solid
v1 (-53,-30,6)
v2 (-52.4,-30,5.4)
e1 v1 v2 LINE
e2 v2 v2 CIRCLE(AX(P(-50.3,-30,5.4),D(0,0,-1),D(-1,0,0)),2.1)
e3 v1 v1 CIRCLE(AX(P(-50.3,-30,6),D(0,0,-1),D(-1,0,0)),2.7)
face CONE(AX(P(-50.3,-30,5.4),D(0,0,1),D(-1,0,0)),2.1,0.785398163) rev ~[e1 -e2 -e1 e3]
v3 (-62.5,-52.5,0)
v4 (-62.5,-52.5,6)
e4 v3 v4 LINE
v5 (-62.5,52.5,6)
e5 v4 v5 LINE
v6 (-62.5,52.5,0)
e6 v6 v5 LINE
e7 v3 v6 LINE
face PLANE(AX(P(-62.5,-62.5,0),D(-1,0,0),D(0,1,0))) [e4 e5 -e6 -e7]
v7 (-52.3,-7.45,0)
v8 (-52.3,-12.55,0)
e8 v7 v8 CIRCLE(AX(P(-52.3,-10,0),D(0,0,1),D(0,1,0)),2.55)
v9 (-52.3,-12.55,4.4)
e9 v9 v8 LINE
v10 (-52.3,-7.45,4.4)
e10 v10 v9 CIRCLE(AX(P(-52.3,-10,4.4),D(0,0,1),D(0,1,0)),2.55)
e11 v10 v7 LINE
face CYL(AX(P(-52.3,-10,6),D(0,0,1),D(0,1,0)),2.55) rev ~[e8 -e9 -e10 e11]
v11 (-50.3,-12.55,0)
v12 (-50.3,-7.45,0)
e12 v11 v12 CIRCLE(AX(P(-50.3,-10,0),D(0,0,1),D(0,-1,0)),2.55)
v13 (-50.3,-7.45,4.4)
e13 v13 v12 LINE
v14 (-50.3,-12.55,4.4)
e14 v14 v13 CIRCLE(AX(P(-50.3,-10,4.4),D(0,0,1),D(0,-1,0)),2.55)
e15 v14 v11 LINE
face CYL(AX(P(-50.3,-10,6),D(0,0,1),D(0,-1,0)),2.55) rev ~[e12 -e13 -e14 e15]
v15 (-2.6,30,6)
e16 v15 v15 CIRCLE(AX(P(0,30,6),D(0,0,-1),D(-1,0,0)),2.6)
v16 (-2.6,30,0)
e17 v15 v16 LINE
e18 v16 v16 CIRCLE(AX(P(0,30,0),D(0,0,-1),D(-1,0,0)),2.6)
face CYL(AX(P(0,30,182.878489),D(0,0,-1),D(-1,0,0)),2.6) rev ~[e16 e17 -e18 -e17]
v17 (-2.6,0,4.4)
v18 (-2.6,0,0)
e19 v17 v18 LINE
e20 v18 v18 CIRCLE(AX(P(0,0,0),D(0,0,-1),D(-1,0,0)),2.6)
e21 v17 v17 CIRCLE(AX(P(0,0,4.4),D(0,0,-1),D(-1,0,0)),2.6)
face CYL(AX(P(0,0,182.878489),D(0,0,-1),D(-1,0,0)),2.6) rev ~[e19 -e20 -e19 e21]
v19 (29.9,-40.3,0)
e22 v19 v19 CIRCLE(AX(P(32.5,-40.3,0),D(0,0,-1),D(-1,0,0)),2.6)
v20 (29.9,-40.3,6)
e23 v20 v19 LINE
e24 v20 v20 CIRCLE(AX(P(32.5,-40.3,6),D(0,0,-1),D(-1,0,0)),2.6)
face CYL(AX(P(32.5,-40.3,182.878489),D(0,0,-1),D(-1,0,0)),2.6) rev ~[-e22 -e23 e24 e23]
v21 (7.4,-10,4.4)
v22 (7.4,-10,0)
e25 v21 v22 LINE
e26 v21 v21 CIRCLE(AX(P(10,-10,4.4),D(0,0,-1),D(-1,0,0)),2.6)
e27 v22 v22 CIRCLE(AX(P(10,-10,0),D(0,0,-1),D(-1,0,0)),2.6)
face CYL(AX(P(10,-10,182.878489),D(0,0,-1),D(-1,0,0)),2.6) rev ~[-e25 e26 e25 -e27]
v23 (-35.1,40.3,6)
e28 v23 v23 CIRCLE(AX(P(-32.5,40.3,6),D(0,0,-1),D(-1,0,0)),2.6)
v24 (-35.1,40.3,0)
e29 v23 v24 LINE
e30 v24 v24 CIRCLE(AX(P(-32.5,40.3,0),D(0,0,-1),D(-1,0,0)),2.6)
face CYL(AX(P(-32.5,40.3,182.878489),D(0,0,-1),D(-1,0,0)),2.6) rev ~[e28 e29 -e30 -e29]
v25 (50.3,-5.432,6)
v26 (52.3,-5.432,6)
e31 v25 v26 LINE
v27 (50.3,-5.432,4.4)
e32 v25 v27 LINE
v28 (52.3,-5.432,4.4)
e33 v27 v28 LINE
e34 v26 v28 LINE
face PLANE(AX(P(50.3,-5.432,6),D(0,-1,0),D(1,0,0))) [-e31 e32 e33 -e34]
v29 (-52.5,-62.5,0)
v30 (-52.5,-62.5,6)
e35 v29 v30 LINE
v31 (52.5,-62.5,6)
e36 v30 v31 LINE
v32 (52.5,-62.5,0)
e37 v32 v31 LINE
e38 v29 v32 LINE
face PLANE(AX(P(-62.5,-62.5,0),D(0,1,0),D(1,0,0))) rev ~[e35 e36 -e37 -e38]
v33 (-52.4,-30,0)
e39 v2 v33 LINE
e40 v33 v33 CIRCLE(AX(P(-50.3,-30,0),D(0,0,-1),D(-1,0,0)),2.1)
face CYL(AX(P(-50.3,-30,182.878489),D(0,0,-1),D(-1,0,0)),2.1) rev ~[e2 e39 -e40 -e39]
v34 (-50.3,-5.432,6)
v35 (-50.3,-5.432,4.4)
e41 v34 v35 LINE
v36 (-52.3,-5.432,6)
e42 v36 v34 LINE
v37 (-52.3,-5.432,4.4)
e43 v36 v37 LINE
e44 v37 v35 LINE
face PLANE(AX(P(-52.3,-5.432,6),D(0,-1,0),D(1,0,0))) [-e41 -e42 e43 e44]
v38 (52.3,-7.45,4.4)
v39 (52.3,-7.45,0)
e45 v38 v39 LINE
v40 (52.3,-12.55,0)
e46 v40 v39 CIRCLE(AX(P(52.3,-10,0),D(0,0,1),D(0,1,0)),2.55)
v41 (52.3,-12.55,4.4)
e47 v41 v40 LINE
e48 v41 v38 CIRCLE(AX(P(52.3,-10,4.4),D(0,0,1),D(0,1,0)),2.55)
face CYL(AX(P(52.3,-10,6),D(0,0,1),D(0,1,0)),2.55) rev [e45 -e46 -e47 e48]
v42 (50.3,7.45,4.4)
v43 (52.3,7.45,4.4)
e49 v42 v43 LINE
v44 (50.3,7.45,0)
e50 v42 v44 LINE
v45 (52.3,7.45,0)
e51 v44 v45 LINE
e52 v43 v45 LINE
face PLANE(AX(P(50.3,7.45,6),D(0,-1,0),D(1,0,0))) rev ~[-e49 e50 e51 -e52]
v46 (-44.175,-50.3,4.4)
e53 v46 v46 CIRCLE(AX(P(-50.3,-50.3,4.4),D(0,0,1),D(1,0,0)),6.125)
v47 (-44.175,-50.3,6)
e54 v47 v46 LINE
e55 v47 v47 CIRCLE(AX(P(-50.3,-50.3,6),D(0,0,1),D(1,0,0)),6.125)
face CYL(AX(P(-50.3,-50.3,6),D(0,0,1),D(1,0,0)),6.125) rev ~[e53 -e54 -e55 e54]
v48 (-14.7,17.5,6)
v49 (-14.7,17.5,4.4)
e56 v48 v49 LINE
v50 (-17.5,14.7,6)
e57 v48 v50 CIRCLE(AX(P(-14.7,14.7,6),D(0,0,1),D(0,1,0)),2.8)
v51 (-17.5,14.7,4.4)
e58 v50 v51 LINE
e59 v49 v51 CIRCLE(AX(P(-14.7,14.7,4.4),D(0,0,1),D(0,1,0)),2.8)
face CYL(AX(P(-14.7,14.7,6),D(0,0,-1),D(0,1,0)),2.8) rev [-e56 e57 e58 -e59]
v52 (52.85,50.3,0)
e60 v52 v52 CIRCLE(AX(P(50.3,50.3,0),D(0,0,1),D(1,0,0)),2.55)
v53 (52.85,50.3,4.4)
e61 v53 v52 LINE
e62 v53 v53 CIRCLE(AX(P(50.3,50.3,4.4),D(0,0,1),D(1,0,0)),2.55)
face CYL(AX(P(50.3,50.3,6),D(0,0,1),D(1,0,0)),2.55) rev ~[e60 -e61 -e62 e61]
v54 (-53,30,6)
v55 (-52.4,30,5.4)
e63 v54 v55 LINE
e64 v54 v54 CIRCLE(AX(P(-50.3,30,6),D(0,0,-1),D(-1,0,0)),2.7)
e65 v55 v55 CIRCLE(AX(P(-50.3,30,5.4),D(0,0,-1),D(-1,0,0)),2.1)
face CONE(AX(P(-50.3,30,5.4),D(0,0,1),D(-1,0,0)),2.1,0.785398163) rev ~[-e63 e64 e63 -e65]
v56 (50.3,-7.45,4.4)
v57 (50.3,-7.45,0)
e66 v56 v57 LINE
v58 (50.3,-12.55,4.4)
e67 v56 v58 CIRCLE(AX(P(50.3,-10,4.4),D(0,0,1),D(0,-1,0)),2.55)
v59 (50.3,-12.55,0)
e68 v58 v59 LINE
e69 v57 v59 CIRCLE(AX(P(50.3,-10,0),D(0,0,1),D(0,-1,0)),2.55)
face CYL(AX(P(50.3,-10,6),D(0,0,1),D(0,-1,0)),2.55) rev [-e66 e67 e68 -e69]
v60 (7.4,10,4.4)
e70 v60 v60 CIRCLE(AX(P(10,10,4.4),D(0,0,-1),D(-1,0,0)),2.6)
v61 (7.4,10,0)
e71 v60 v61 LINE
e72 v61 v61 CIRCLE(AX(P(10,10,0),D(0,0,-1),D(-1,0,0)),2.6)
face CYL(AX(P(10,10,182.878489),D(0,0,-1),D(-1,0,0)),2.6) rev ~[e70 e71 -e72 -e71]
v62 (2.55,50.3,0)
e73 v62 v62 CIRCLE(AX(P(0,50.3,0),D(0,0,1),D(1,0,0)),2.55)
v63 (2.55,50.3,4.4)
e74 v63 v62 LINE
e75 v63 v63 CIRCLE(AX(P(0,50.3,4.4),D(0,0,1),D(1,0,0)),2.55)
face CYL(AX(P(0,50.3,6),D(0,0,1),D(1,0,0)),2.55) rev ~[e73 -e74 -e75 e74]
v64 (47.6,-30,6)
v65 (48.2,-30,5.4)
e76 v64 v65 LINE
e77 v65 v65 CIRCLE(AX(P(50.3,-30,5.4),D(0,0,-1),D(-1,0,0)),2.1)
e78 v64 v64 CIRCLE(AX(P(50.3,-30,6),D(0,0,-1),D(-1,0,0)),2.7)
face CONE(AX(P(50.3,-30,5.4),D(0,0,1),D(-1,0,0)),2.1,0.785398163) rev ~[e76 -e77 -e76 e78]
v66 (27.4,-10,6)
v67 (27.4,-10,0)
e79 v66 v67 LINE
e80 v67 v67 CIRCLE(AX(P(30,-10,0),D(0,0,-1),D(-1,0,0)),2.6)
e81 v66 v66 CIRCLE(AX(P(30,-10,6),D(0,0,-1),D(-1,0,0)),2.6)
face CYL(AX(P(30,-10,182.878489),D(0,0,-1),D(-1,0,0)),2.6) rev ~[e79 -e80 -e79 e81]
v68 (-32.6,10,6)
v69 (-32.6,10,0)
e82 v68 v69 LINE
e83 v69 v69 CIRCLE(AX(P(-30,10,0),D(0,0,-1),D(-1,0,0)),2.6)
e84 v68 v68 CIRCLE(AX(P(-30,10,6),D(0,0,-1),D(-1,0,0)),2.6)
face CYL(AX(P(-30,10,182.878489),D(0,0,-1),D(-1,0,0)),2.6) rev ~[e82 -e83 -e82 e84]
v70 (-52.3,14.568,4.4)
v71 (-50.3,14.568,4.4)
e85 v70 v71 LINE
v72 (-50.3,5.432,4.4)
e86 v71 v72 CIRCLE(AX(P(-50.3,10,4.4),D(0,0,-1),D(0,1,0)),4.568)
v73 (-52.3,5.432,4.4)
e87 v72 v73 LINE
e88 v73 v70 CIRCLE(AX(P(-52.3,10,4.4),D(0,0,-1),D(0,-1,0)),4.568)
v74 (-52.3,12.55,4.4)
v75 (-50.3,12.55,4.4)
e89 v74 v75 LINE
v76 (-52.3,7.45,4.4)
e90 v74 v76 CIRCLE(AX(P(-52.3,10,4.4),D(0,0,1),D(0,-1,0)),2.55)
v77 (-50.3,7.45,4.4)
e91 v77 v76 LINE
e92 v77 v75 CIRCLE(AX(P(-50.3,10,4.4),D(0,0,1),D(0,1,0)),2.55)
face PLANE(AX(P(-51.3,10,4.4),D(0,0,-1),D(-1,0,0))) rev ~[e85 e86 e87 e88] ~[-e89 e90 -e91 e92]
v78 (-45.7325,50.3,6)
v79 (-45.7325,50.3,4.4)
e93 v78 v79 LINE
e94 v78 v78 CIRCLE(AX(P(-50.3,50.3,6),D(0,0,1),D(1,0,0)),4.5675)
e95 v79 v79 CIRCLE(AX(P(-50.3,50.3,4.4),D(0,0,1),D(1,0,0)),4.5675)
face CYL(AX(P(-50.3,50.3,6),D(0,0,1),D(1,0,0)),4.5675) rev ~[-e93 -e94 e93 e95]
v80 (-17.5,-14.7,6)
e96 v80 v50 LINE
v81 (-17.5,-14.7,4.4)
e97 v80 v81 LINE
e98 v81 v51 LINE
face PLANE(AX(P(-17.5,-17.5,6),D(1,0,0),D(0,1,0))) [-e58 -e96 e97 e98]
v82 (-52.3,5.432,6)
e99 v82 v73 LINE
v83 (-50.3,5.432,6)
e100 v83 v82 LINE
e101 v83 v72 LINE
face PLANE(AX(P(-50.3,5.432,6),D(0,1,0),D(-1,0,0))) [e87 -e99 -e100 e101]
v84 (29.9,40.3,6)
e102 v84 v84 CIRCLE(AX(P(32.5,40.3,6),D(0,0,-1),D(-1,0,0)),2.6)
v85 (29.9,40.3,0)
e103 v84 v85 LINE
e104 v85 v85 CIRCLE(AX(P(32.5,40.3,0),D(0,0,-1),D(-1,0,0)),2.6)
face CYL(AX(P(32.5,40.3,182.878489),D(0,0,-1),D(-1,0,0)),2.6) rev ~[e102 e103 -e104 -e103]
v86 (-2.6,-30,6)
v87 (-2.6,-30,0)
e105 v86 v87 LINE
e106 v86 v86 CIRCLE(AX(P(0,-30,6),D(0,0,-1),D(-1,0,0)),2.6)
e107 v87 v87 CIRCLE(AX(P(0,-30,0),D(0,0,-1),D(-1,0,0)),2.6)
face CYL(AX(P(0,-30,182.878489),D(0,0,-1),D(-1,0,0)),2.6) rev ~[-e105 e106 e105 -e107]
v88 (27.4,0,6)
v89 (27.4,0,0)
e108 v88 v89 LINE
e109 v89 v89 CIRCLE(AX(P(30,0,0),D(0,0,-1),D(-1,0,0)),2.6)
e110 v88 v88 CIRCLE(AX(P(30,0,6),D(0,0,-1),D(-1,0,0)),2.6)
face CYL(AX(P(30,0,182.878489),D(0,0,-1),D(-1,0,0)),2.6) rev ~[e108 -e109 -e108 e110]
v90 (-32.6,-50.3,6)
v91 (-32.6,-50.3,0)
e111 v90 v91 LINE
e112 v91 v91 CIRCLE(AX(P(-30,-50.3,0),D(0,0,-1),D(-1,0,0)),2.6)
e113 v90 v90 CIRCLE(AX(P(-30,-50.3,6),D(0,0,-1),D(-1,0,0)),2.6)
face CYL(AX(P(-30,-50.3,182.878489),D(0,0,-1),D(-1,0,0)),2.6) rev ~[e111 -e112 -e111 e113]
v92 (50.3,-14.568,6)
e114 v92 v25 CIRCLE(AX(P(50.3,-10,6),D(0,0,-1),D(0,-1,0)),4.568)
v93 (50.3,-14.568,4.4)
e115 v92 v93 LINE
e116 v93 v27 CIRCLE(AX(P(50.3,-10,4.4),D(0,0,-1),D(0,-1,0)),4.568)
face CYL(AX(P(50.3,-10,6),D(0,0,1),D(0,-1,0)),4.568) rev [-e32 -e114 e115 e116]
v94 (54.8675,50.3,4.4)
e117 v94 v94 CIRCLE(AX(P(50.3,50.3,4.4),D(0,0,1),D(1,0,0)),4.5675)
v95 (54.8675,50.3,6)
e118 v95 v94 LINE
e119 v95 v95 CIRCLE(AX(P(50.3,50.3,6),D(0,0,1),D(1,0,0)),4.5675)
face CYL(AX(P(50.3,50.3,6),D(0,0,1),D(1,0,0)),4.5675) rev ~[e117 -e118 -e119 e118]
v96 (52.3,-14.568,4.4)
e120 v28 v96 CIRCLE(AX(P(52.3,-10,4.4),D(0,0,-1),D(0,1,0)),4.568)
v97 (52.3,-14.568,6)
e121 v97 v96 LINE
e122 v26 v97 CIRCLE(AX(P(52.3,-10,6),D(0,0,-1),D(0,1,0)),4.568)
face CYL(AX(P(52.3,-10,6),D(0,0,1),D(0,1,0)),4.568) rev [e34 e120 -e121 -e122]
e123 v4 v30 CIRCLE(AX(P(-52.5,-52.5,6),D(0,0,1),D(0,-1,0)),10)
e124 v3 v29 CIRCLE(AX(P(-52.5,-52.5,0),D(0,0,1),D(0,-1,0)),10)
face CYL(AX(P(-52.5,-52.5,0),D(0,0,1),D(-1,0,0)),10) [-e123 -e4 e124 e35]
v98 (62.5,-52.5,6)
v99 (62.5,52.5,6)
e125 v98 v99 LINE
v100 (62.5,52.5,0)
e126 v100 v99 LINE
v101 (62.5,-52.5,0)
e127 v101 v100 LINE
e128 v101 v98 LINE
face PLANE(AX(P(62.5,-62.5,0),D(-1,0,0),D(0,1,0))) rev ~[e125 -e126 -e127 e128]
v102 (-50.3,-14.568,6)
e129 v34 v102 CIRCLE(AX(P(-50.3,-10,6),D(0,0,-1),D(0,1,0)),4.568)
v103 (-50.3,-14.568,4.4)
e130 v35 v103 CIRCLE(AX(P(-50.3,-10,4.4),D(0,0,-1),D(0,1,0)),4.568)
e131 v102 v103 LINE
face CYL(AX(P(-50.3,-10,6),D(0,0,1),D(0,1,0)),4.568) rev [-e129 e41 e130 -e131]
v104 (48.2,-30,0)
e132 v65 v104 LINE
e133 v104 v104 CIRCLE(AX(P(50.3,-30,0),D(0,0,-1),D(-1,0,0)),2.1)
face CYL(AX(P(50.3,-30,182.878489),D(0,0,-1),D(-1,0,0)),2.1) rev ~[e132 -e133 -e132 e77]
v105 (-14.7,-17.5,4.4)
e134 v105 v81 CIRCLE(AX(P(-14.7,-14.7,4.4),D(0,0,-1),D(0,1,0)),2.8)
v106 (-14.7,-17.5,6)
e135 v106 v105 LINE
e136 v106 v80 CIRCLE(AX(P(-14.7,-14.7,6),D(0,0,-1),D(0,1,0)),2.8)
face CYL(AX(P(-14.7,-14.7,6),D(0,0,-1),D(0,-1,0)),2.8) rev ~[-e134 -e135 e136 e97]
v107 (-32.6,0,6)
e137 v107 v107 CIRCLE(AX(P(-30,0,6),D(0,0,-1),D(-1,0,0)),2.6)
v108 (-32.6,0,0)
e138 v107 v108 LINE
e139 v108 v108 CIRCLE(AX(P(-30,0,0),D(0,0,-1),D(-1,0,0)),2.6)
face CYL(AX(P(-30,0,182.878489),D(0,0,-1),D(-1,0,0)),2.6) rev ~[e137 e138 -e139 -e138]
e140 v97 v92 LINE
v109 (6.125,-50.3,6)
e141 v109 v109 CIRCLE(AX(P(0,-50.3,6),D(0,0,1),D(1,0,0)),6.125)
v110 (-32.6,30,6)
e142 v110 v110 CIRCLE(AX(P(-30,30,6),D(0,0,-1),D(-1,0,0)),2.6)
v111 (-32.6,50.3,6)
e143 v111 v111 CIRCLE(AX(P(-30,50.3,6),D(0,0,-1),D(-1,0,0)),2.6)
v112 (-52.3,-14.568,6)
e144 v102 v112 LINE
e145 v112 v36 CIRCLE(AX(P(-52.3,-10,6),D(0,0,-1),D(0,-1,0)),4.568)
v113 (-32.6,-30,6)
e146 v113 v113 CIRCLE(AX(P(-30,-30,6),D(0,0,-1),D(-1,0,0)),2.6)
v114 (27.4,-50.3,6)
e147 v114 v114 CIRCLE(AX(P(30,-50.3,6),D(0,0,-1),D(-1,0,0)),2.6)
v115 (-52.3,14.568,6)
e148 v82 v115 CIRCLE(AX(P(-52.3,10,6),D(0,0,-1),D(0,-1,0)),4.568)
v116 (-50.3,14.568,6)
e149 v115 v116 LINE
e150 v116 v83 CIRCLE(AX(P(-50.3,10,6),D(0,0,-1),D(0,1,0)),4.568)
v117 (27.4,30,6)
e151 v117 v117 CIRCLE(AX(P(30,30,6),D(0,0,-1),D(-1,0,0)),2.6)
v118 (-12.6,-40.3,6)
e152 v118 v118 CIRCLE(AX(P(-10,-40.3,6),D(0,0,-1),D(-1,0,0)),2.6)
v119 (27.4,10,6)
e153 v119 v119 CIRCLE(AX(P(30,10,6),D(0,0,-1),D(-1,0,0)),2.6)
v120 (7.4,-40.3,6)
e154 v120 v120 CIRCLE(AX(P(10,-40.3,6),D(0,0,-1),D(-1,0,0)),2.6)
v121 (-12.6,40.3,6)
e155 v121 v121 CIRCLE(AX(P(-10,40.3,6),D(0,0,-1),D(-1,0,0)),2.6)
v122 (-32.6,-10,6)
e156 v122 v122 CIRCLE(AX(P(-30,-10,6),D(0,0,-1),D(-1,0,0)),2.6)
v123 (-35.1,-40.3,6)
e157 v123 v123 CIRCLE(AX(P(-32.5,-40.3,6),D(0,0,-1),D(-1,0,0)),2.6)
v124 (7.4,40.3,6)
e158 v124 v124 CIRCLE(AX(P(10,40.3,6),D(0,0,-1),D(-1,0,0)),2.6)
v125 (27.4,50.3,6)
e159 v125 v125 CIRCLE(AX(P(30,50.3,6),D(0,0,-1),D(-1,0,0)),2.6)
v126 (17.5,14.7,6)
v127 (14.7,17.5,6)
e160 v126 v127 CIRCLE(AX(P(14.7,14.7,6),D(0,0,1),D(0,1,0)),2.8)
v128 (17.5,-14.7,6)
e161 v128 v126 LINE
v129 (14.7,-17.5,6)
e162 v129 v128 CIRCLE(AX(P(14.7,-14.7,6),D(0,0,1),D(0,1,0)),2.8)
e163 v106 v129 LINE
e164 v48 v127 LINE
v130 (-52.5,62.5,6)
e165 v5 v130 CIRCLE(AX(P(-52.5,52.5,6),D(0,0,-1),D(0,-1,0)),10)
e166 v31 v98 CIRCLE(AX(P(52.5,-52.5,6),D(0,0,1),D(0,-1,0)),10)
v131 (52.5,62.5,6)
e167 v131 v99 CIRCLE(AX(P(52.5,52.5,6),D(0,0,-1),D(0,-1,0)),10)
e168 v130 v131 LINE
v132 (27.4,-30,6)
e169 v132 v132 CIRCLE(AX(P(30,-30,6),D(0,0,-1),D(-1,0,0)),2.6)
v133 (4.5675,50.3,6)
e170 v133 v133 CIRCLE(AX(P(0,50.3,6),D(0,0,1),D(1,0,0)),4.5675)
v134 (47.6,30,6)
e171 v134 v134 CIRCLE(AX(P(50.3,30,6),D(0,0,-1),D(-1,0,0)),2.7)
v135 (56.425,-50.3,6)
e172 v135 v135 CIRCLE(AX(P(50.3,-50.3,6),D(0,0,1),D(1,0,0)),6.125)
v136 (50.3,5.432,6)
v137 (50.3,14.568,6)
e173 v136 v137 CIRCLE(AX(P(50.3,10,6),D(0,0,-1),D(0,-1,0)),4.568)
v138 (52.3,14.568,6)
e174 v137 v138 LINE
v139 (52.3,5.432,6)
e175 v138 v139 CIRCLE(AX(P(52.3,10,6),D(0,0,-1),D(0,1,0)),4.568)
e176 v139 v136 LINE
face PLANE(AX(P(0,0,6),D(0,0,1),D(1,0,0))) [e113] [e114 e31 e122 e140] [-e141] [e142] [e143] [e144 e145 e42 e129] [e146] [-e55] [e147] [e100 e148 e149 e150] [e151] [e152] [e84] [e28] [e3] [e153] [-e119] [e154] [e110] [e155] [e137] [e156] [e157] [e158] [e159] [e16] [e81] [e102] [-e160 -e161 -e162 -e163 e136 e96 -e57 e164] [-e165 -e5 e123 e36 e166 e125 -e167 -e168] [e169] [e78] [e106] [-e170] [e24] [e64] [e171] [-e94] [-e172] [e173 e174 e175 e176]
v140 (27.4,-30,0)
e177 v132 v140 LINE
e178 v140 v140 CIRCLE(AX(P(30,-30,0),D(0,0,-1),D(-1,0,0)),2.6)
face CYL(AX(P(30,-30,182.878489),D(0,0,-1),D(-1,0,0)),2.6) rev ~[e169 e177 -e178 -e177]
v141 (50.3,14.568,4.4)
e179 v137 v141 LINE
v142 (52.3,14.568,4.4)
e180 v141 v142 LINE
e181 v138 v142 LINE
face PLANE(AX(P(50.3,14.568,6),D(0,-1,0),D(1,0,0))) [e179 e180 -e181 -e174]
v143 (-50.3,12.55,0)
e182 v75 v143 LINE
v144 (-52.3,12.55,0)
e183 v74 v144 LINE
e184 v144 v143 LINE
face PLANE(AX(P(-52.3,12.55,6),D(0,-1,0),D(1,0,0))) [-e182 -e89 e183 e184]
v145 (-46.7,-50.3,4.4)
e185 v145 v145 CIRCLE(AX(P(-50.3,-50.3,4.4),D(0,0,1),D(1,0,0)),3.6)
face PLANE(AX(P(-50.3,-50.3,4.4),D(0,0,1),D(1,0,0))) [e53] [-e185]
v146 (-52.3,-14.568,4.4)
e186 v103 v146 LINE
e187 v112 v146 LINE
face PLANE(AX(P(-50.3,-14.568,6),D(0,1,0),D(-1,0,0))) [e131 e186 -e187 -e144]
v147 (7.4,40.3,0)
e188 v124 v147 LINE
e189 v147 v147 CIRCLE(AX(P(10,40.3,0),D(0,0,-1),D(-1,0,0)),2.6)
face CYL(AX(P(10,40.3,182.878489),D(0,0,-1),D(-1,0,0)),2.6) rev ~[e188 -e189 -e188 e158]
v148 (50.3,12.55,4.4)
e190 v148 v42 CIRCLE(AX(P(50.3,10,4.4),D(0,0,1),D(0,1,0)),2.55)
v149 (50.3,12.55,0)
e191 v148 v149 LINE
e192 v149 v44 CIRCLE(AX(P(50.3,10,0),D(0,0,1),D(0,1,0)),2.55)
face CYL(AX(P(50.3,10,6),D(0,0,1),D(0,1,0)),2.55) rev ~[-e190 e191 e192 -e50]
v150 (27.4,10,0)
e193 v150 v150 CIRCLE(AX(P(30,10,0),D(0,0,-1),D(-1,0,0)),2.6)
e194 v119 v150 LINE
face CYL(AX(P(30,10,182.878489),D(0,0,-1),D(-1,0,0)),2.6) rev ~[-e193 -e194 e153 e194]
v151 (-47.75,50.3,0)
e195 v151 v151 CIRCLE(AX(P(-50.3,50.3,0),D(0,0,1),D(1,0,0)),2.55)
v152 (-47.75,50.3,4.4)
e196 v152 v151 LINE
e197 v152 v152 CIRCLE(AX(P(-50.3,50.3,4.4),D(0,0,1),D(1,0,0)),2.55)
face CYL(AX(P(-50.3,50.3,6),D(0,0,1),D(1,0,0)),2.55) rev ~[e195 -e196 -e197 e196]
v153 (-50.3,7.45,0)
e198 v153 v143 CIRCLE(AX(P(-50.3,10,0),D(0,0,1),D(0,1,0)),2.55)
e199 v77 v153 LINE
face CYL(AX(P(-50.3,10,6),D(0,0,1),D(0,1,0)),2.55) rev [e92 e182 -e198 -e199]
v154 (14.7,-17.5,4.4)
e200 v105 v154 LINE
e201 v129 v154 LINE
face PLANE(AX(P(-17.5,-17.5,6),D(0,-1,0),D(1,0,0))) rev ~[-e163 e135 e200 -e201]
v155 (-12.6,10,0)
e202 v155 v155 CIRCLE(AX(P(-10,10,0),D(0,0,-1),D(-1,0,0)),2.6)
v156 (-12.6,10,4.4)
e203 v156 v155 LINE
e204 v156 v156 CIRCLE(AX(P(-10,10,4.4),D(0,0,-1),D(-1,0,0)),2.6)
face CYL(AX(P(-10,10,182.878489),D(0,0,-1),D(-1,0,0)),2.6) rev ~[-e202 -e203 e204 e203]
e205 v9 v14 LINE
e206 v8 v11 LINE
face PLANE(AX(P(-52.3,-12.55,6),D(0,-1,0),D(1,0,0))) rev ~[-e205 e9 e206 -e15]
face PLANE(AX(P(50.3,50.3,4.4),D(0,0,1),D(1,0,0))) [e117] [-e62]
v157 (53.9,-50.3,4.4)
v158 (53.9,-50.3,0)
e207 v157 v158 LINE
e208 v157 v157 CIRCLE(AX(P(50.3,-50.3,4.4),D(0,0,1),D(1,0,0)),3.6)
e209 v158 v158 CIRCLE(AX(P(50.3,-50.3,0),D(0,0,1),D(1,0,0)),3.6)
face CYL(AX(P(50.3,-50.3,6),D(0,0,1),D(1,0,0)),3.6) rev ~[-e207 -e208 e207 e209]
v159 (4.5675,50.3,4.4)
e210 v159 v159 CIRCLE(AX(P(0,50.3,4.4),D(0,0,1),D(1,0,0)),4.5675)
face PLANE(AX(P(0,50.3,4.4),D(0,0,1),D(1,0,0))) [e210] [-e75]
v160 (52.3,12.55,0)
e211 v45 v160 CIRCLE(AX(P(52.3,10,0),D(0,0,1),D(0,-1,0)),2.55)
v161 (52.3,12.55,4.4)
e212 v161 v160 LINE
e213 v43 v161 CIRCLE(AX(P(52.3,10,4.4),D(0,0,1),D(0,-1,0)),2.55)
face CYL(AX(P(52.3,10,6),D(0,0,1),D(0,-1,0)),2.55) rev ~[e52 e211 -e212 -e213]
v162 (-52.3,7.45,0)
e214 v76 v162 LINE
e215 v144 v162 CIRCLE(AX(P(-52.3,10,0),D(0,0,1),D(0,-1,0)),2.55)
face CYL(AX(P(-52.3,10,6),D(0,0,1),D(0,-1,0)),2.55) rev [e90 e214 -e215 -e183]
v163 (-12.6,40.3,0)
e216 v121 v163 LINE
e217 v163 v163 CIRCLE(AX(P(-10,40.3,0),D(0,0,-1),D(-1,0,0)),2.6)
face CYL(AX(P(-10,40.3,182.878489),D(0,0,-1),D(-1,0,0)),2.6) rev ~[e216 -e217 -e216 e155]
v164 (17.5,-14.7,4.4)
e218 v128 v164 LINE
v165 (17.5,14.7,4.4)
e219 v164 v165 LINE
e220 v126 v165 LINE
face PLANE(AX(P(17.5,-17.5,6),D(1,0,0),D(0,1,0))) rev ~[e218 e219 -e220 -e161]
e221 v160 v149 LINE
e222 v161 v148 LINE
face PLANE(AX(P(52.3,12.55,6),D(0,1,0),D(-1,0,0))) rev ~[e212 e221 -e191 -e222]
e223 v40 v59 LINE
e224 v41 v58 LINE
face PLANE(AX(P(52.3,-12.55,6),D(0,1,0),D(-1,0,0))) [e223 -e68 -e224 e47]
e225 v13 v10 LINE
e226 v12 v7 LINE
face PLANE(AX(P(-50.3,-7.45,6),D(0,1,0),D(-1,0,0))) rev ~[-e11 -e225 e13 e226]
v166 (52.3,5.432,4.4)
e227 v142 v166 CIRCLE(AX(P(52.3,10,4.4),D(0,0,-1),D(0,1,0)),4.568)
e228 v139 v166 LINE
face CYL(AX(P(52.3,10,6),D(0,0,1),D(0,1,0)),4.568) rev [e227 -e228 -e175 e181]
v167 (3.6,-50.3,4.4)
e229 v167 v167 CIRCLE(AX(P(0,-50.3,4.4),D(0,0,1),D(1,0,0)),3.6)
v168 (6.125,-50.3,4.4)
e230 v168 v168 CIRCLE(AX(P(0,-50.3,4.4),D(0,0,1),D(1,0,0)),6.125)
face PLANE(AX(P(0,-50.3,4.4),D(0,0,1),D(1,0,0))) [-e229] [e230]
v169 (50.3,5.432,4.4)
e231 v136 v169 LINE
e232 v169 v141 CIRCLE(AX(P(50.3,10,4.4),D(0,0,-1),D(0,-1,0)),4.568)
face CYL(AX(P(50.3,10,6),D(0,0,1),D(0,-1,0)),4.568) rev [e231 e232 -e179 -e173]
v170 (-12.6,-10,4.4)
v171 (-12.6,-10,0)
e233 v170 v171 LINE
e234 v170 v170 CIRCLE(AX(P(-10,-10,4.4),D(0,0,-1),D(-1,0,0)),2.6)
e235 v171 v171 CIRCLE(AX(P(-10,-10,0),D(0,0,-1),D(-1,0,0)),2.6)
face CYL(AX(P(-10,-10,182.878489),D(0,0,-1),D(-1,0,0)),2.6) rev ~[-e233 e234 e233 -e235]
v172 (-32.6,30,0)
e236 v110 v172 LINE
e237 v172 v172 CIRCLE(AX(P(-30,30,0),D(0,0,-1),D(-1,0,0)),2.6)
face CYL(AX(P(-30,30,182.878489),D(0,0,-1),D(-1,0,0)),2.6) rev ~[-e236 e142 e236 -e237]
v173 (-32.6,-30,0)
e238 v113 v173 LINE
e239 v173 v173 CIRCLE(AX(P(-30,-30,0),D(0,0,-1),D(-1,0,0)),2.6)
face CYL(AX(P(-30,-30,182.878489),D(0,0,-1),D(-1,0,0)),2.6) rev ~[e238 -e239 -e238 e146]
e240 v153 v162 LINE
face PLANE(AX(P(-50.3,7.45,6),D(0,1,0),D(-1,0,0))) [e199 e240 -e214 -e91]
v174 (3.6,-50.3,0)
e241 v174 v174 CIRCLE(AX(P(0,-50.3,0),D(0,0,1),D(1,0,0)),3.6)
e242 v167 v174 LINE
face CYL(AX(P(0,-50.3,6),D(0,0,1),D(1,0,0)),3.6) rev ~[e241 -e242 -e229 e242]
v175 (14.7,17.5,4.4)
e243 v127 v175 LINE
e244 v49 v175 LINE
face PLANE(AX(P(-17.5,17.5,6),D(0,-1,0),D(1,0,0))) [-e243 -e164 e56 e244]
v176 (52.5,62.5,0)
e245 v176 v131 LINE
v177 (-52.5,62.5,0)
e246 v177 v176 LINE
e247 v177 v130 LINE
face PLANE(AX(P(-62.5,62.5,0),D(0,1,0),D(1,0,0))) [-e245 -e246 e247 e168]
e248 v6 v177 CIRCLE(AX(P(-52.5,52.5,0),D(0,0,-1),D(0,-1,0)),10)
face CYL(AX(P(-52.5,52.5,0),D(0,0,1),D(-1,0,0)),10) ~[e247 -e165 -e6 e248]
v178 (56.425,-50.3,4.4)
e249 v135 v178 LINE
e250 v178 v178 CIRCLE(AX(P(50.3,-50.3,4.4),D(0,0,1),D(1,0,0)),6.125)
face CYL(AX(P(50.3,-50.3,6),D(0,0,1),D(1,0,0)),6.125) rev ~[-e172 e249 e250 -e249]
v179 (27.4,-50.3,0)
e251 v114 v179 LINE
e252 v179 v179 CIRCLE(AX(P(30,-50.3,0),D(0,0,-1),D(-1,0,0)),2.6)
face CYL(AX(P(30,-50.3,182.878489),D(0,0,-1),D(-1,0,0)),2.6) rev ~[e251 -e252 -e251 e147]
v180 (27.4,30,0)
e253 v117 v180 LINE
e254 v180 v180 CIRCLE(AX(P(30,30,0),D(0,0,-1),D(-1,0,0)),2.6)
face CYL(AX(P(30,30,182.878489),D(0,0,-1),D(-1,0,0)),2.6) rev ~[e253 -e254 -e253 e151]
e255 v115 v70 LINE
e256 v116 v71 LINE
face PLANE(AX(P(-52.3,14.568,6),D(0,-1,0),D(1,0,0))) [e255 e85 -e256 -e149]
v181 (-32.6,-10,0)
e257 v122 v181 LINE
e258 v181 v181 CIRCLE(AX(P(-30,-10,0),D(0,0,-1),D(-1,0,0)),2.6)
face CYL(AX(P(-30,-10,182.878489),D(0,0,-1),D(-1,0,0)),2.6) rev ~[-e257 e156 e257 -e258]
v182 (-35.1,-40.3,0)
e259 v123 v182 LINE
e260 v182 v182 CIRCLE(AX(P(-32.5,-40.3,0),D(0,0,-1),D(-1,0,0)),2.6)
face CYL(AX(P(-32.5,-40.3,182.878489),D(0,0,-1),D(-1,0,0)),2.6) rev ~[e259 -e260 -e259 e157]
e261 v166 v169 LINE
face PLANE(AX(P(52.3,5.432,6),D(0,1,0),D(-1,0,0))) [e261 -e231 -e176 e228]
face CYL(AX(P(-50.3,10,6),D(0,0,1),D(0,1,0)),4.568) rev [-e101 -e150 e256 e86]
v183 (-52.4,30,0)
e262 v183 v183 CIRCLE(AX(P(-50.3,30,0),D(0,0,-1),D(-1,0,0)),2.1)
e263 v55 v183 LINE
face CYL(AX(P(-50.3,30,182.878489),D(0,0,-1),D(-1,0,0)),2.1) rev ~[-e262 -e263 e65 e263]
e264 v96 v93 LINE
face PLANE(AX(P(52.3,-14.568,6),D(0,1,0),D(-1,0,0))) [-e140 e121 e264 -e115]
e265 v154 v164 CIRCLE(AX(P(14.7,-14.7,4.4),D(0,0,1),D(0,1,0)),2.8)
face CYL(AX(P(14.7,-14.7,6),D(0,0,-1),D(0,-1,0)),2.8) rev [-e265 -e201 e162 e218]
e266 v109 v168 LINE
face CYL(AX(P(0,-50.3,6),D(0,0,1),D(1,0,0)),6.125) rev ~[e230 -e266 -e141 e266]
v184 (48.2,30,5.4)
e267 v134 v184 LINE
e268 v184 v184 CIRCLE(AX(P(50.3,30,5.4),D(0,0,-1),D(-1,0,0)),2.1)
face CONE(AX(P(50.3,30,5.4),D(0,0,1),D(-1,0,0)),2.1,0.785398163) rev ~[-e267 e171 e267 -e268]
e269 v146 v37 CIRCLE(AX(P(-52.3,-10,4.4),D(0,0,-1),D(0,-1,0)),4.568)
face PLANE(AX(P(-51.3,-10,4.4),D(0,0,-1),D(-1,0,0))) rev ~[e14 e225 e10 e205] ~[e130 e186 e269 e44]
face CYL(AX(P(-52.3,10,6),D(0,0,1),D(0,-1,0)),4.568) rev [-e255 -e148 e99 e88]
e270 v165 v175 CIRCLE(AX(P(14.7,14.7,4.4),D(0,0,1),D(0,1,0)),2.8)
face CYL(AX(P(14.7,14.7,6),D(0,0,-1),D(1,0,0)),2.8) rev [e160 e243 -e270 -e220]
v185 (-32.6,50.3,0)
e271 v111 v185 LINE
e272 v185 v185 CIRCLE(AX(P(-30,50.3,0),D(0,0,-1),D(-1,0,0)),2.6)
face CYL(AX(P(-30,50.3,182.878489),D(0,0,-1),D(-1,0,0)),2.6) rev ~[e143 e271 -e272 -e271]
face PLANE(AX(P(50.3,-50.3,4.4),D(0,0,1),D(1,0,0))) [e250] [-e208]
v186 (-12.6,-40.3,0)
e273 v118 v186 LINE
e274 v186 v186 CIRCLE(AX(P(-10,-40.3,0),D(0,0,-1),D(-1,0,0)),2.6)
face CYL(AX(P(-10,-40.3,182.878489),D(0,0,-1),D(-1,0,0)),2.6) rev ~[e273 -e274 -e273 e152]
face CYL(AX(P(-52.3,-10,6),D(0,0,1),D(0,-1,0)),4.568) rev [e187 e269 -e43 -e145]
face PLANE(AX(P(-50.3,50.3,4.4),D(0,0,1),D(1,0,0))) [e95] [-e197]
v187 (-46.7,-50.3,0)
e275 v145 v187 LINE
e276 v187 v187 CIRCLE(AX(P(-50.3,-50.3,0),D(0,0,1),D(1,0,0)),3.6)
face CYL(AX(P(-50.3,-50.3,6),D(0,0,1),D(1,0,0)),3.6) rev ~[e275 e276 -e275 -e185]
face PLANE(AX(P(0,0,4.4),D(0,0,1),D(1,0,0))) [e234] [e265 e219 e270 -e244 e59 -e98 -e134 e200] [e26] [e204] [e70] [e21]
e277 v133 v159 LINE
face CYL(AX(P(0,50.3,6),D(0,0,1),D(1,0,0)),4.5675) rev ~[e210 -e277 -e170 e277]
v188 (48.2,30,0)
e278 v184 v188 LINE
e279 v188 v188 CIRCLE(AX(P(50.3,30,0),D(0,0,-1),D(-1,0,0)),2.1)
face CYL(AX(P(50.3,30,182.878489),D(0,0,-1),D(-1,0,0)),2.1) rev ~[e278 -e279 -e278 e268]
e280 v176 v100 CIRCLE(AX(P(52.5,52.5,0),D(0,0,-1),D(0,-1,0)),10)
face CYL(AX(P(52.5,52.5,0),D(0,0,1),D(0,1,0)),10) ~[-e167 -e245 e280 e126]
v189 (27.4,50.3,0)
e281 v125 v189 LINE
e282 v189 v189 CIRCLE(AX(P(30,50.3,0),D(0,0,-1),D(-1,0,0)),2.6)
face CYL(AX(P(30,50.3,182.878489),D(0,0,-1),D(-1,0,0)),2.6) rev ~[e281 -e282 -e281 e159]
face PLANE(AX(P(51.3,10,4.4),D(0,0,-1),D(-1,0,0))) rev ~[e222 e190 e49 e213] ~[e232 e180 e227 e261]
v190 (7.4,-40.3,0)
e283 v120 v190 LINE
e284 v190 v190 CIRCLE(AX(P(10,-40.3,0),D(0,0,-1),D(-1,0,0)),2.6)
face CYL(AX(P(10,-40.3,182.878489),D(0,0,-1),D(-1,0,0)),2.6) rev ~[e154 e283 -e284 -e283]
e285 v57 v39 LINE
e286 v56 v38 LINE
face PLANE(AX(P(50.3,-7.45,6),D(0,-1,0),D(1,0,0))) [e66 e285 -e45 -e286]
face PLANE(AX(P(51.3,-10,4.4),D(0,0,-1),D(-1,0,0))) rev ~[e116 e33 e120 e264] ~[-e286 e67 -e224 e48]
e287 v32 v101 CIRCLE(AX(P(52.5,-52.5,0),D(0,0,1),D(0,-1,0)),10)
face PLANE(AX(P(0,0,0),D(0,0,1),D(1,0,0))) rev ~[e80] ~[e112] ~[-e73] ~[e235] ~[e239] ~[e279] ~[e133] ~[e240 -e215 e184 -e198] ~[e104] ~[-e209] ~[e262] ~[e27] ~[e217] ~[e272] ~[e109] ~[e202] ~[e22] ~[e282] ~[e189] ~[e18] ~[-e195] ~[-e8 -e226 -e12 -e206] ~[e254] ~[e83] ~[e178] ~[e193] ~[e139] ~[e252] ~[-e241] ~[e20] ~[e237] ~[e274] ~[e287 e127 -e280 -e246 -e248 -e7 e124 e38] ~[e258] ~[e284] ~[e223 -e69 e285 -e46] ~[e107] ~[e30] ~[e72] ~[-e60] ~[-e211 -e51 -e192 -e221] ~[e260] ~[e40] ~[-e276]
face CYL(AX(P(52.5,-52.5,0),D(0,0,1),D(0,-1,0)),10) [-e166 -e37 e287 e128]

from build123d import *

# Parameters (mm, degrees)
SKETCH1_W             = 125
SKETCH1_H             = 125
BOSS_EXTRUDE1_DEPTH   = 6
M5_CLEARANCE_HOLE1_D  = 5.2
SKETCH4_R             = 2.55
SKETCH4_R_2           = 3.6
CUT_EXTRUDE1_DEPTH    = 7
SKETCH5_R             = 4.5675
SKETCH5_R_2           = 6.125
SKETCH5_W             = 35
SKETCH5_H             = 35
CUT_EXTRUDE2_DEPTH    = 1.6
FILLET1_R             = 10
FILLET2_R             = 2.8
M5X0_8_TAPPED_HOLE1_D = 4.2
CHAMFER1_SIZE         = 0.6


with BuildPart() as part:
    # Sketch1 → Boss-Extrude1 (new body)
    with BuildSketch(Plane.XY):
        Rectangle(SKETCH1_W, SKETCH1_H)
    extrude(amount=BOSS_EXTRUDE1_DEPTH)

    # M5 Clearance Hole1 (through all)
    with Locations(Plane.XY.offset(6)):
        with Locations((0, 0), (-10, 10), (-30, 30), (0, 30), (-30, 0), (-30, 10), (-30, -10), (0, -30), (-30, -30), (-10, -10), (10, -10), (30, -30), (30, -10), (30, 10), (30, 0), (30, 30), (10, 10), (-30, 50.3), (-32.5, 40.3), (-10, 40.3), (10, 40.3), (32.5, 40.3), (30, 50.3), (30, -50.3), (32.5, -40.3), (10, -40.3), (-10, -40.3), (-32.5, -40.3), (-30, -50.3)):
            Hole(M5_CLEARANCE_HOLE1_D / 2)

    # Sketch4 → Cut-Extrude1 (cut, through all)
    with BuildSketch(Plane.XY.offset(6)):
        with Locations((-50.3, 50.3)):
            Circle(SKETCH4_R)
        with Locations((0, 50.3)):
            Circle(SKETCH4_R)
        with Locations((-50.3, -50.3)):
            Circle(SKETCH4_R_2)
        with Locations((50.3, 50.3)):
            Circle(SKETCH4_R)
        with Locations((50.3, -50.3)):
            Circle(SKETCH4_R_2)
        with Locations((0, -50.3)):
            Circle(SKETCH4_R_2)
        with BuildLine():
            Line((-50.3, 7.45), (-52.3, 7.45))
            ThreePointArc((-52.3, 7.45), (-54.85, 10), (-52.3, 12.55))
            Line((-52.3, 12.55), (-50.3, 12.55))
            ThreePointArc((-50.3, 12.55), (-47.75, 10), (-50.3, 7.45))
        make_face()
        with BuildLine():
            Line((-50.3, -7.45), (-52.3, -7.45))
            ThreePointArc((-52.3, -7.45), (-54.85, -10), (-52.3, -12.55))
            Line((-52.3, -12.55), (-50.3, -12.55))
            ThreePointArc((-50.3, -12.55), (-47.75, -10), (-50.3, -7.45))
        make_face()
        with BuildLine():
            Line((50.3, 7.45), (52.3, 7.45))
            ThreePointArc((52.3, 7.45), (54.85, 10), (52.3, 12.55))
            Line((52.3, 12.55), (50.3, 12.55))
            ThreePointArc((50.3, 12.55), (47.75, 10), (50.3, 7.45))
        make_face()
        with BuildLine():
            Line((50.3, -7.45), (52.3, -7.45))
            ThreePointArc((52.3, -7.45), (54.85, -10), (52.3, -12.55))
            Line((52.3, -12.55), (50.3, -12.55))
            ThreePointArc((50.3, -12.55), (47.75, -10), (50.3, -7.45))
        make_face()
    extrude(amount=-CUT_EXTRUDE1_DEPTH, mode=Mode.SUBTRACT)

    # Sketch5 → Cut-Extrude2 (cut)
    with BuildSketch(Plane.XY.offset(6)):
        with Locations((-50.3, 50.3)):
            Circle(SKETCH5_R)
        with Locations((0, 50.3)):
            Circle(SKETCH5_R)
        with Locations((50.3, 50.3)):
            Circle(SKETCH5_R)
        with Locations((-50.3, -50.3)):
            Circle(SKETCH5_R_2)
        with Locations((0, -50.3)):
            Circle(SKETCH5_R_2)
        with Locations((50.3, -50.3)):
            Circle(SKETCH5_R_2)
        Rectangle(SKETCH5_W, SKETCH5_H)
        with BuildLine():
            Line((-50.3, 5.432), (-52.3, 5.432))
            ThreePointArc((-52.3, 5.432), (-56.868, 10), (-52.3, 14.568))
            Line((-52.3, 14.568), (-50.3, 14.568))
            ThreePointArc((-50.3, 14.568), (-45.732, 10), (-50.3, 5.432))
        make_face()
        with BuildLine():
            Line((-50.3, -14.568), (-52.3, -14.568))
            ThreePointArc((-52.3, -14.568), (-56.868, -10), (-52.3, -5.432))
            Line((-52.3, -5.432), (-50.3, -5.432))
            ThreePointArc((-50.3, -5.432), (-45.732, -10), (-50.3, -14.568))
        make_face()
        with BuildLine():
            Line((50.3, 14.568), (52.3, 14.568))
            ThreePointArc((52.3, 14.568), (56.868, 10), (52.3, 5.432))
            Line((52.3, 5.432), (50.3, 5.432))
            ThreePointArc((50.3, 5.432), (45.732, 10), (50.3, 14.568))
        make_face()
        with BuildLine():
            Line((50.3, -5.432), (52.3, -5.432))
            ThreePointArc((52.3, -5.432), (56.868, -10), (52.3, -14.568))
            Line((52.3, -14.568), (50.3, -14.568))
            ThreePointArc((50.3, -14.568), (45.732, -10), (50.3, -5.432))
        make_face()
    extrude(amount=-CUT_EXTRUDE2_DEPTH, mode=Mode.SUBTRACT)

    # Fillet1
    fillet1_edges = [part.edges().sort_by_distance(p)[0] for p in [
        (-62.5, 62.5, 3),
        (62.5, 62.5, 3),
        (62.5, -62.5, 3),
        (-62.5, -62.5, 3),
    ]]
    fillet(fillet1_edges, radius=FILLET1_R)

    # Fillet2
    fillet2_edges = [part.edges().sort_by_distance(p)[0] for p in [
        (-17.5, -17.5, 5.2),
        (-17.5, 17.5, 5.2),
        (17.5, 17.5, 5.2),
        (17.5, -17.5, 5.2),
    ]]
    fillet(fillet2_edges, radius=FILLET2_R)

    # M5x0.8 Tapped Hole1 (through all)
    with Locations(Plane.XY.offset(6)):
        with Locations((-50.3, 30), (50.3, 30), (50.3, -30), (-50.3, -30)):
            Hole(M5X0_8_TAPPED_HOLE1_D / 2)

    # Chamfer1
    chamfer1_edges = [part.edges().sort_by_distance(p)[0] for p in [
        (-48.2, -30, 6),
        (52.4, -30, 6),
        (52.4, 30, 6),
        (-48.2, 30, 6),
    ]]
    chamfer(chamfer1_edges, length=CHAMFER1_SIZE)


solid = part.part
